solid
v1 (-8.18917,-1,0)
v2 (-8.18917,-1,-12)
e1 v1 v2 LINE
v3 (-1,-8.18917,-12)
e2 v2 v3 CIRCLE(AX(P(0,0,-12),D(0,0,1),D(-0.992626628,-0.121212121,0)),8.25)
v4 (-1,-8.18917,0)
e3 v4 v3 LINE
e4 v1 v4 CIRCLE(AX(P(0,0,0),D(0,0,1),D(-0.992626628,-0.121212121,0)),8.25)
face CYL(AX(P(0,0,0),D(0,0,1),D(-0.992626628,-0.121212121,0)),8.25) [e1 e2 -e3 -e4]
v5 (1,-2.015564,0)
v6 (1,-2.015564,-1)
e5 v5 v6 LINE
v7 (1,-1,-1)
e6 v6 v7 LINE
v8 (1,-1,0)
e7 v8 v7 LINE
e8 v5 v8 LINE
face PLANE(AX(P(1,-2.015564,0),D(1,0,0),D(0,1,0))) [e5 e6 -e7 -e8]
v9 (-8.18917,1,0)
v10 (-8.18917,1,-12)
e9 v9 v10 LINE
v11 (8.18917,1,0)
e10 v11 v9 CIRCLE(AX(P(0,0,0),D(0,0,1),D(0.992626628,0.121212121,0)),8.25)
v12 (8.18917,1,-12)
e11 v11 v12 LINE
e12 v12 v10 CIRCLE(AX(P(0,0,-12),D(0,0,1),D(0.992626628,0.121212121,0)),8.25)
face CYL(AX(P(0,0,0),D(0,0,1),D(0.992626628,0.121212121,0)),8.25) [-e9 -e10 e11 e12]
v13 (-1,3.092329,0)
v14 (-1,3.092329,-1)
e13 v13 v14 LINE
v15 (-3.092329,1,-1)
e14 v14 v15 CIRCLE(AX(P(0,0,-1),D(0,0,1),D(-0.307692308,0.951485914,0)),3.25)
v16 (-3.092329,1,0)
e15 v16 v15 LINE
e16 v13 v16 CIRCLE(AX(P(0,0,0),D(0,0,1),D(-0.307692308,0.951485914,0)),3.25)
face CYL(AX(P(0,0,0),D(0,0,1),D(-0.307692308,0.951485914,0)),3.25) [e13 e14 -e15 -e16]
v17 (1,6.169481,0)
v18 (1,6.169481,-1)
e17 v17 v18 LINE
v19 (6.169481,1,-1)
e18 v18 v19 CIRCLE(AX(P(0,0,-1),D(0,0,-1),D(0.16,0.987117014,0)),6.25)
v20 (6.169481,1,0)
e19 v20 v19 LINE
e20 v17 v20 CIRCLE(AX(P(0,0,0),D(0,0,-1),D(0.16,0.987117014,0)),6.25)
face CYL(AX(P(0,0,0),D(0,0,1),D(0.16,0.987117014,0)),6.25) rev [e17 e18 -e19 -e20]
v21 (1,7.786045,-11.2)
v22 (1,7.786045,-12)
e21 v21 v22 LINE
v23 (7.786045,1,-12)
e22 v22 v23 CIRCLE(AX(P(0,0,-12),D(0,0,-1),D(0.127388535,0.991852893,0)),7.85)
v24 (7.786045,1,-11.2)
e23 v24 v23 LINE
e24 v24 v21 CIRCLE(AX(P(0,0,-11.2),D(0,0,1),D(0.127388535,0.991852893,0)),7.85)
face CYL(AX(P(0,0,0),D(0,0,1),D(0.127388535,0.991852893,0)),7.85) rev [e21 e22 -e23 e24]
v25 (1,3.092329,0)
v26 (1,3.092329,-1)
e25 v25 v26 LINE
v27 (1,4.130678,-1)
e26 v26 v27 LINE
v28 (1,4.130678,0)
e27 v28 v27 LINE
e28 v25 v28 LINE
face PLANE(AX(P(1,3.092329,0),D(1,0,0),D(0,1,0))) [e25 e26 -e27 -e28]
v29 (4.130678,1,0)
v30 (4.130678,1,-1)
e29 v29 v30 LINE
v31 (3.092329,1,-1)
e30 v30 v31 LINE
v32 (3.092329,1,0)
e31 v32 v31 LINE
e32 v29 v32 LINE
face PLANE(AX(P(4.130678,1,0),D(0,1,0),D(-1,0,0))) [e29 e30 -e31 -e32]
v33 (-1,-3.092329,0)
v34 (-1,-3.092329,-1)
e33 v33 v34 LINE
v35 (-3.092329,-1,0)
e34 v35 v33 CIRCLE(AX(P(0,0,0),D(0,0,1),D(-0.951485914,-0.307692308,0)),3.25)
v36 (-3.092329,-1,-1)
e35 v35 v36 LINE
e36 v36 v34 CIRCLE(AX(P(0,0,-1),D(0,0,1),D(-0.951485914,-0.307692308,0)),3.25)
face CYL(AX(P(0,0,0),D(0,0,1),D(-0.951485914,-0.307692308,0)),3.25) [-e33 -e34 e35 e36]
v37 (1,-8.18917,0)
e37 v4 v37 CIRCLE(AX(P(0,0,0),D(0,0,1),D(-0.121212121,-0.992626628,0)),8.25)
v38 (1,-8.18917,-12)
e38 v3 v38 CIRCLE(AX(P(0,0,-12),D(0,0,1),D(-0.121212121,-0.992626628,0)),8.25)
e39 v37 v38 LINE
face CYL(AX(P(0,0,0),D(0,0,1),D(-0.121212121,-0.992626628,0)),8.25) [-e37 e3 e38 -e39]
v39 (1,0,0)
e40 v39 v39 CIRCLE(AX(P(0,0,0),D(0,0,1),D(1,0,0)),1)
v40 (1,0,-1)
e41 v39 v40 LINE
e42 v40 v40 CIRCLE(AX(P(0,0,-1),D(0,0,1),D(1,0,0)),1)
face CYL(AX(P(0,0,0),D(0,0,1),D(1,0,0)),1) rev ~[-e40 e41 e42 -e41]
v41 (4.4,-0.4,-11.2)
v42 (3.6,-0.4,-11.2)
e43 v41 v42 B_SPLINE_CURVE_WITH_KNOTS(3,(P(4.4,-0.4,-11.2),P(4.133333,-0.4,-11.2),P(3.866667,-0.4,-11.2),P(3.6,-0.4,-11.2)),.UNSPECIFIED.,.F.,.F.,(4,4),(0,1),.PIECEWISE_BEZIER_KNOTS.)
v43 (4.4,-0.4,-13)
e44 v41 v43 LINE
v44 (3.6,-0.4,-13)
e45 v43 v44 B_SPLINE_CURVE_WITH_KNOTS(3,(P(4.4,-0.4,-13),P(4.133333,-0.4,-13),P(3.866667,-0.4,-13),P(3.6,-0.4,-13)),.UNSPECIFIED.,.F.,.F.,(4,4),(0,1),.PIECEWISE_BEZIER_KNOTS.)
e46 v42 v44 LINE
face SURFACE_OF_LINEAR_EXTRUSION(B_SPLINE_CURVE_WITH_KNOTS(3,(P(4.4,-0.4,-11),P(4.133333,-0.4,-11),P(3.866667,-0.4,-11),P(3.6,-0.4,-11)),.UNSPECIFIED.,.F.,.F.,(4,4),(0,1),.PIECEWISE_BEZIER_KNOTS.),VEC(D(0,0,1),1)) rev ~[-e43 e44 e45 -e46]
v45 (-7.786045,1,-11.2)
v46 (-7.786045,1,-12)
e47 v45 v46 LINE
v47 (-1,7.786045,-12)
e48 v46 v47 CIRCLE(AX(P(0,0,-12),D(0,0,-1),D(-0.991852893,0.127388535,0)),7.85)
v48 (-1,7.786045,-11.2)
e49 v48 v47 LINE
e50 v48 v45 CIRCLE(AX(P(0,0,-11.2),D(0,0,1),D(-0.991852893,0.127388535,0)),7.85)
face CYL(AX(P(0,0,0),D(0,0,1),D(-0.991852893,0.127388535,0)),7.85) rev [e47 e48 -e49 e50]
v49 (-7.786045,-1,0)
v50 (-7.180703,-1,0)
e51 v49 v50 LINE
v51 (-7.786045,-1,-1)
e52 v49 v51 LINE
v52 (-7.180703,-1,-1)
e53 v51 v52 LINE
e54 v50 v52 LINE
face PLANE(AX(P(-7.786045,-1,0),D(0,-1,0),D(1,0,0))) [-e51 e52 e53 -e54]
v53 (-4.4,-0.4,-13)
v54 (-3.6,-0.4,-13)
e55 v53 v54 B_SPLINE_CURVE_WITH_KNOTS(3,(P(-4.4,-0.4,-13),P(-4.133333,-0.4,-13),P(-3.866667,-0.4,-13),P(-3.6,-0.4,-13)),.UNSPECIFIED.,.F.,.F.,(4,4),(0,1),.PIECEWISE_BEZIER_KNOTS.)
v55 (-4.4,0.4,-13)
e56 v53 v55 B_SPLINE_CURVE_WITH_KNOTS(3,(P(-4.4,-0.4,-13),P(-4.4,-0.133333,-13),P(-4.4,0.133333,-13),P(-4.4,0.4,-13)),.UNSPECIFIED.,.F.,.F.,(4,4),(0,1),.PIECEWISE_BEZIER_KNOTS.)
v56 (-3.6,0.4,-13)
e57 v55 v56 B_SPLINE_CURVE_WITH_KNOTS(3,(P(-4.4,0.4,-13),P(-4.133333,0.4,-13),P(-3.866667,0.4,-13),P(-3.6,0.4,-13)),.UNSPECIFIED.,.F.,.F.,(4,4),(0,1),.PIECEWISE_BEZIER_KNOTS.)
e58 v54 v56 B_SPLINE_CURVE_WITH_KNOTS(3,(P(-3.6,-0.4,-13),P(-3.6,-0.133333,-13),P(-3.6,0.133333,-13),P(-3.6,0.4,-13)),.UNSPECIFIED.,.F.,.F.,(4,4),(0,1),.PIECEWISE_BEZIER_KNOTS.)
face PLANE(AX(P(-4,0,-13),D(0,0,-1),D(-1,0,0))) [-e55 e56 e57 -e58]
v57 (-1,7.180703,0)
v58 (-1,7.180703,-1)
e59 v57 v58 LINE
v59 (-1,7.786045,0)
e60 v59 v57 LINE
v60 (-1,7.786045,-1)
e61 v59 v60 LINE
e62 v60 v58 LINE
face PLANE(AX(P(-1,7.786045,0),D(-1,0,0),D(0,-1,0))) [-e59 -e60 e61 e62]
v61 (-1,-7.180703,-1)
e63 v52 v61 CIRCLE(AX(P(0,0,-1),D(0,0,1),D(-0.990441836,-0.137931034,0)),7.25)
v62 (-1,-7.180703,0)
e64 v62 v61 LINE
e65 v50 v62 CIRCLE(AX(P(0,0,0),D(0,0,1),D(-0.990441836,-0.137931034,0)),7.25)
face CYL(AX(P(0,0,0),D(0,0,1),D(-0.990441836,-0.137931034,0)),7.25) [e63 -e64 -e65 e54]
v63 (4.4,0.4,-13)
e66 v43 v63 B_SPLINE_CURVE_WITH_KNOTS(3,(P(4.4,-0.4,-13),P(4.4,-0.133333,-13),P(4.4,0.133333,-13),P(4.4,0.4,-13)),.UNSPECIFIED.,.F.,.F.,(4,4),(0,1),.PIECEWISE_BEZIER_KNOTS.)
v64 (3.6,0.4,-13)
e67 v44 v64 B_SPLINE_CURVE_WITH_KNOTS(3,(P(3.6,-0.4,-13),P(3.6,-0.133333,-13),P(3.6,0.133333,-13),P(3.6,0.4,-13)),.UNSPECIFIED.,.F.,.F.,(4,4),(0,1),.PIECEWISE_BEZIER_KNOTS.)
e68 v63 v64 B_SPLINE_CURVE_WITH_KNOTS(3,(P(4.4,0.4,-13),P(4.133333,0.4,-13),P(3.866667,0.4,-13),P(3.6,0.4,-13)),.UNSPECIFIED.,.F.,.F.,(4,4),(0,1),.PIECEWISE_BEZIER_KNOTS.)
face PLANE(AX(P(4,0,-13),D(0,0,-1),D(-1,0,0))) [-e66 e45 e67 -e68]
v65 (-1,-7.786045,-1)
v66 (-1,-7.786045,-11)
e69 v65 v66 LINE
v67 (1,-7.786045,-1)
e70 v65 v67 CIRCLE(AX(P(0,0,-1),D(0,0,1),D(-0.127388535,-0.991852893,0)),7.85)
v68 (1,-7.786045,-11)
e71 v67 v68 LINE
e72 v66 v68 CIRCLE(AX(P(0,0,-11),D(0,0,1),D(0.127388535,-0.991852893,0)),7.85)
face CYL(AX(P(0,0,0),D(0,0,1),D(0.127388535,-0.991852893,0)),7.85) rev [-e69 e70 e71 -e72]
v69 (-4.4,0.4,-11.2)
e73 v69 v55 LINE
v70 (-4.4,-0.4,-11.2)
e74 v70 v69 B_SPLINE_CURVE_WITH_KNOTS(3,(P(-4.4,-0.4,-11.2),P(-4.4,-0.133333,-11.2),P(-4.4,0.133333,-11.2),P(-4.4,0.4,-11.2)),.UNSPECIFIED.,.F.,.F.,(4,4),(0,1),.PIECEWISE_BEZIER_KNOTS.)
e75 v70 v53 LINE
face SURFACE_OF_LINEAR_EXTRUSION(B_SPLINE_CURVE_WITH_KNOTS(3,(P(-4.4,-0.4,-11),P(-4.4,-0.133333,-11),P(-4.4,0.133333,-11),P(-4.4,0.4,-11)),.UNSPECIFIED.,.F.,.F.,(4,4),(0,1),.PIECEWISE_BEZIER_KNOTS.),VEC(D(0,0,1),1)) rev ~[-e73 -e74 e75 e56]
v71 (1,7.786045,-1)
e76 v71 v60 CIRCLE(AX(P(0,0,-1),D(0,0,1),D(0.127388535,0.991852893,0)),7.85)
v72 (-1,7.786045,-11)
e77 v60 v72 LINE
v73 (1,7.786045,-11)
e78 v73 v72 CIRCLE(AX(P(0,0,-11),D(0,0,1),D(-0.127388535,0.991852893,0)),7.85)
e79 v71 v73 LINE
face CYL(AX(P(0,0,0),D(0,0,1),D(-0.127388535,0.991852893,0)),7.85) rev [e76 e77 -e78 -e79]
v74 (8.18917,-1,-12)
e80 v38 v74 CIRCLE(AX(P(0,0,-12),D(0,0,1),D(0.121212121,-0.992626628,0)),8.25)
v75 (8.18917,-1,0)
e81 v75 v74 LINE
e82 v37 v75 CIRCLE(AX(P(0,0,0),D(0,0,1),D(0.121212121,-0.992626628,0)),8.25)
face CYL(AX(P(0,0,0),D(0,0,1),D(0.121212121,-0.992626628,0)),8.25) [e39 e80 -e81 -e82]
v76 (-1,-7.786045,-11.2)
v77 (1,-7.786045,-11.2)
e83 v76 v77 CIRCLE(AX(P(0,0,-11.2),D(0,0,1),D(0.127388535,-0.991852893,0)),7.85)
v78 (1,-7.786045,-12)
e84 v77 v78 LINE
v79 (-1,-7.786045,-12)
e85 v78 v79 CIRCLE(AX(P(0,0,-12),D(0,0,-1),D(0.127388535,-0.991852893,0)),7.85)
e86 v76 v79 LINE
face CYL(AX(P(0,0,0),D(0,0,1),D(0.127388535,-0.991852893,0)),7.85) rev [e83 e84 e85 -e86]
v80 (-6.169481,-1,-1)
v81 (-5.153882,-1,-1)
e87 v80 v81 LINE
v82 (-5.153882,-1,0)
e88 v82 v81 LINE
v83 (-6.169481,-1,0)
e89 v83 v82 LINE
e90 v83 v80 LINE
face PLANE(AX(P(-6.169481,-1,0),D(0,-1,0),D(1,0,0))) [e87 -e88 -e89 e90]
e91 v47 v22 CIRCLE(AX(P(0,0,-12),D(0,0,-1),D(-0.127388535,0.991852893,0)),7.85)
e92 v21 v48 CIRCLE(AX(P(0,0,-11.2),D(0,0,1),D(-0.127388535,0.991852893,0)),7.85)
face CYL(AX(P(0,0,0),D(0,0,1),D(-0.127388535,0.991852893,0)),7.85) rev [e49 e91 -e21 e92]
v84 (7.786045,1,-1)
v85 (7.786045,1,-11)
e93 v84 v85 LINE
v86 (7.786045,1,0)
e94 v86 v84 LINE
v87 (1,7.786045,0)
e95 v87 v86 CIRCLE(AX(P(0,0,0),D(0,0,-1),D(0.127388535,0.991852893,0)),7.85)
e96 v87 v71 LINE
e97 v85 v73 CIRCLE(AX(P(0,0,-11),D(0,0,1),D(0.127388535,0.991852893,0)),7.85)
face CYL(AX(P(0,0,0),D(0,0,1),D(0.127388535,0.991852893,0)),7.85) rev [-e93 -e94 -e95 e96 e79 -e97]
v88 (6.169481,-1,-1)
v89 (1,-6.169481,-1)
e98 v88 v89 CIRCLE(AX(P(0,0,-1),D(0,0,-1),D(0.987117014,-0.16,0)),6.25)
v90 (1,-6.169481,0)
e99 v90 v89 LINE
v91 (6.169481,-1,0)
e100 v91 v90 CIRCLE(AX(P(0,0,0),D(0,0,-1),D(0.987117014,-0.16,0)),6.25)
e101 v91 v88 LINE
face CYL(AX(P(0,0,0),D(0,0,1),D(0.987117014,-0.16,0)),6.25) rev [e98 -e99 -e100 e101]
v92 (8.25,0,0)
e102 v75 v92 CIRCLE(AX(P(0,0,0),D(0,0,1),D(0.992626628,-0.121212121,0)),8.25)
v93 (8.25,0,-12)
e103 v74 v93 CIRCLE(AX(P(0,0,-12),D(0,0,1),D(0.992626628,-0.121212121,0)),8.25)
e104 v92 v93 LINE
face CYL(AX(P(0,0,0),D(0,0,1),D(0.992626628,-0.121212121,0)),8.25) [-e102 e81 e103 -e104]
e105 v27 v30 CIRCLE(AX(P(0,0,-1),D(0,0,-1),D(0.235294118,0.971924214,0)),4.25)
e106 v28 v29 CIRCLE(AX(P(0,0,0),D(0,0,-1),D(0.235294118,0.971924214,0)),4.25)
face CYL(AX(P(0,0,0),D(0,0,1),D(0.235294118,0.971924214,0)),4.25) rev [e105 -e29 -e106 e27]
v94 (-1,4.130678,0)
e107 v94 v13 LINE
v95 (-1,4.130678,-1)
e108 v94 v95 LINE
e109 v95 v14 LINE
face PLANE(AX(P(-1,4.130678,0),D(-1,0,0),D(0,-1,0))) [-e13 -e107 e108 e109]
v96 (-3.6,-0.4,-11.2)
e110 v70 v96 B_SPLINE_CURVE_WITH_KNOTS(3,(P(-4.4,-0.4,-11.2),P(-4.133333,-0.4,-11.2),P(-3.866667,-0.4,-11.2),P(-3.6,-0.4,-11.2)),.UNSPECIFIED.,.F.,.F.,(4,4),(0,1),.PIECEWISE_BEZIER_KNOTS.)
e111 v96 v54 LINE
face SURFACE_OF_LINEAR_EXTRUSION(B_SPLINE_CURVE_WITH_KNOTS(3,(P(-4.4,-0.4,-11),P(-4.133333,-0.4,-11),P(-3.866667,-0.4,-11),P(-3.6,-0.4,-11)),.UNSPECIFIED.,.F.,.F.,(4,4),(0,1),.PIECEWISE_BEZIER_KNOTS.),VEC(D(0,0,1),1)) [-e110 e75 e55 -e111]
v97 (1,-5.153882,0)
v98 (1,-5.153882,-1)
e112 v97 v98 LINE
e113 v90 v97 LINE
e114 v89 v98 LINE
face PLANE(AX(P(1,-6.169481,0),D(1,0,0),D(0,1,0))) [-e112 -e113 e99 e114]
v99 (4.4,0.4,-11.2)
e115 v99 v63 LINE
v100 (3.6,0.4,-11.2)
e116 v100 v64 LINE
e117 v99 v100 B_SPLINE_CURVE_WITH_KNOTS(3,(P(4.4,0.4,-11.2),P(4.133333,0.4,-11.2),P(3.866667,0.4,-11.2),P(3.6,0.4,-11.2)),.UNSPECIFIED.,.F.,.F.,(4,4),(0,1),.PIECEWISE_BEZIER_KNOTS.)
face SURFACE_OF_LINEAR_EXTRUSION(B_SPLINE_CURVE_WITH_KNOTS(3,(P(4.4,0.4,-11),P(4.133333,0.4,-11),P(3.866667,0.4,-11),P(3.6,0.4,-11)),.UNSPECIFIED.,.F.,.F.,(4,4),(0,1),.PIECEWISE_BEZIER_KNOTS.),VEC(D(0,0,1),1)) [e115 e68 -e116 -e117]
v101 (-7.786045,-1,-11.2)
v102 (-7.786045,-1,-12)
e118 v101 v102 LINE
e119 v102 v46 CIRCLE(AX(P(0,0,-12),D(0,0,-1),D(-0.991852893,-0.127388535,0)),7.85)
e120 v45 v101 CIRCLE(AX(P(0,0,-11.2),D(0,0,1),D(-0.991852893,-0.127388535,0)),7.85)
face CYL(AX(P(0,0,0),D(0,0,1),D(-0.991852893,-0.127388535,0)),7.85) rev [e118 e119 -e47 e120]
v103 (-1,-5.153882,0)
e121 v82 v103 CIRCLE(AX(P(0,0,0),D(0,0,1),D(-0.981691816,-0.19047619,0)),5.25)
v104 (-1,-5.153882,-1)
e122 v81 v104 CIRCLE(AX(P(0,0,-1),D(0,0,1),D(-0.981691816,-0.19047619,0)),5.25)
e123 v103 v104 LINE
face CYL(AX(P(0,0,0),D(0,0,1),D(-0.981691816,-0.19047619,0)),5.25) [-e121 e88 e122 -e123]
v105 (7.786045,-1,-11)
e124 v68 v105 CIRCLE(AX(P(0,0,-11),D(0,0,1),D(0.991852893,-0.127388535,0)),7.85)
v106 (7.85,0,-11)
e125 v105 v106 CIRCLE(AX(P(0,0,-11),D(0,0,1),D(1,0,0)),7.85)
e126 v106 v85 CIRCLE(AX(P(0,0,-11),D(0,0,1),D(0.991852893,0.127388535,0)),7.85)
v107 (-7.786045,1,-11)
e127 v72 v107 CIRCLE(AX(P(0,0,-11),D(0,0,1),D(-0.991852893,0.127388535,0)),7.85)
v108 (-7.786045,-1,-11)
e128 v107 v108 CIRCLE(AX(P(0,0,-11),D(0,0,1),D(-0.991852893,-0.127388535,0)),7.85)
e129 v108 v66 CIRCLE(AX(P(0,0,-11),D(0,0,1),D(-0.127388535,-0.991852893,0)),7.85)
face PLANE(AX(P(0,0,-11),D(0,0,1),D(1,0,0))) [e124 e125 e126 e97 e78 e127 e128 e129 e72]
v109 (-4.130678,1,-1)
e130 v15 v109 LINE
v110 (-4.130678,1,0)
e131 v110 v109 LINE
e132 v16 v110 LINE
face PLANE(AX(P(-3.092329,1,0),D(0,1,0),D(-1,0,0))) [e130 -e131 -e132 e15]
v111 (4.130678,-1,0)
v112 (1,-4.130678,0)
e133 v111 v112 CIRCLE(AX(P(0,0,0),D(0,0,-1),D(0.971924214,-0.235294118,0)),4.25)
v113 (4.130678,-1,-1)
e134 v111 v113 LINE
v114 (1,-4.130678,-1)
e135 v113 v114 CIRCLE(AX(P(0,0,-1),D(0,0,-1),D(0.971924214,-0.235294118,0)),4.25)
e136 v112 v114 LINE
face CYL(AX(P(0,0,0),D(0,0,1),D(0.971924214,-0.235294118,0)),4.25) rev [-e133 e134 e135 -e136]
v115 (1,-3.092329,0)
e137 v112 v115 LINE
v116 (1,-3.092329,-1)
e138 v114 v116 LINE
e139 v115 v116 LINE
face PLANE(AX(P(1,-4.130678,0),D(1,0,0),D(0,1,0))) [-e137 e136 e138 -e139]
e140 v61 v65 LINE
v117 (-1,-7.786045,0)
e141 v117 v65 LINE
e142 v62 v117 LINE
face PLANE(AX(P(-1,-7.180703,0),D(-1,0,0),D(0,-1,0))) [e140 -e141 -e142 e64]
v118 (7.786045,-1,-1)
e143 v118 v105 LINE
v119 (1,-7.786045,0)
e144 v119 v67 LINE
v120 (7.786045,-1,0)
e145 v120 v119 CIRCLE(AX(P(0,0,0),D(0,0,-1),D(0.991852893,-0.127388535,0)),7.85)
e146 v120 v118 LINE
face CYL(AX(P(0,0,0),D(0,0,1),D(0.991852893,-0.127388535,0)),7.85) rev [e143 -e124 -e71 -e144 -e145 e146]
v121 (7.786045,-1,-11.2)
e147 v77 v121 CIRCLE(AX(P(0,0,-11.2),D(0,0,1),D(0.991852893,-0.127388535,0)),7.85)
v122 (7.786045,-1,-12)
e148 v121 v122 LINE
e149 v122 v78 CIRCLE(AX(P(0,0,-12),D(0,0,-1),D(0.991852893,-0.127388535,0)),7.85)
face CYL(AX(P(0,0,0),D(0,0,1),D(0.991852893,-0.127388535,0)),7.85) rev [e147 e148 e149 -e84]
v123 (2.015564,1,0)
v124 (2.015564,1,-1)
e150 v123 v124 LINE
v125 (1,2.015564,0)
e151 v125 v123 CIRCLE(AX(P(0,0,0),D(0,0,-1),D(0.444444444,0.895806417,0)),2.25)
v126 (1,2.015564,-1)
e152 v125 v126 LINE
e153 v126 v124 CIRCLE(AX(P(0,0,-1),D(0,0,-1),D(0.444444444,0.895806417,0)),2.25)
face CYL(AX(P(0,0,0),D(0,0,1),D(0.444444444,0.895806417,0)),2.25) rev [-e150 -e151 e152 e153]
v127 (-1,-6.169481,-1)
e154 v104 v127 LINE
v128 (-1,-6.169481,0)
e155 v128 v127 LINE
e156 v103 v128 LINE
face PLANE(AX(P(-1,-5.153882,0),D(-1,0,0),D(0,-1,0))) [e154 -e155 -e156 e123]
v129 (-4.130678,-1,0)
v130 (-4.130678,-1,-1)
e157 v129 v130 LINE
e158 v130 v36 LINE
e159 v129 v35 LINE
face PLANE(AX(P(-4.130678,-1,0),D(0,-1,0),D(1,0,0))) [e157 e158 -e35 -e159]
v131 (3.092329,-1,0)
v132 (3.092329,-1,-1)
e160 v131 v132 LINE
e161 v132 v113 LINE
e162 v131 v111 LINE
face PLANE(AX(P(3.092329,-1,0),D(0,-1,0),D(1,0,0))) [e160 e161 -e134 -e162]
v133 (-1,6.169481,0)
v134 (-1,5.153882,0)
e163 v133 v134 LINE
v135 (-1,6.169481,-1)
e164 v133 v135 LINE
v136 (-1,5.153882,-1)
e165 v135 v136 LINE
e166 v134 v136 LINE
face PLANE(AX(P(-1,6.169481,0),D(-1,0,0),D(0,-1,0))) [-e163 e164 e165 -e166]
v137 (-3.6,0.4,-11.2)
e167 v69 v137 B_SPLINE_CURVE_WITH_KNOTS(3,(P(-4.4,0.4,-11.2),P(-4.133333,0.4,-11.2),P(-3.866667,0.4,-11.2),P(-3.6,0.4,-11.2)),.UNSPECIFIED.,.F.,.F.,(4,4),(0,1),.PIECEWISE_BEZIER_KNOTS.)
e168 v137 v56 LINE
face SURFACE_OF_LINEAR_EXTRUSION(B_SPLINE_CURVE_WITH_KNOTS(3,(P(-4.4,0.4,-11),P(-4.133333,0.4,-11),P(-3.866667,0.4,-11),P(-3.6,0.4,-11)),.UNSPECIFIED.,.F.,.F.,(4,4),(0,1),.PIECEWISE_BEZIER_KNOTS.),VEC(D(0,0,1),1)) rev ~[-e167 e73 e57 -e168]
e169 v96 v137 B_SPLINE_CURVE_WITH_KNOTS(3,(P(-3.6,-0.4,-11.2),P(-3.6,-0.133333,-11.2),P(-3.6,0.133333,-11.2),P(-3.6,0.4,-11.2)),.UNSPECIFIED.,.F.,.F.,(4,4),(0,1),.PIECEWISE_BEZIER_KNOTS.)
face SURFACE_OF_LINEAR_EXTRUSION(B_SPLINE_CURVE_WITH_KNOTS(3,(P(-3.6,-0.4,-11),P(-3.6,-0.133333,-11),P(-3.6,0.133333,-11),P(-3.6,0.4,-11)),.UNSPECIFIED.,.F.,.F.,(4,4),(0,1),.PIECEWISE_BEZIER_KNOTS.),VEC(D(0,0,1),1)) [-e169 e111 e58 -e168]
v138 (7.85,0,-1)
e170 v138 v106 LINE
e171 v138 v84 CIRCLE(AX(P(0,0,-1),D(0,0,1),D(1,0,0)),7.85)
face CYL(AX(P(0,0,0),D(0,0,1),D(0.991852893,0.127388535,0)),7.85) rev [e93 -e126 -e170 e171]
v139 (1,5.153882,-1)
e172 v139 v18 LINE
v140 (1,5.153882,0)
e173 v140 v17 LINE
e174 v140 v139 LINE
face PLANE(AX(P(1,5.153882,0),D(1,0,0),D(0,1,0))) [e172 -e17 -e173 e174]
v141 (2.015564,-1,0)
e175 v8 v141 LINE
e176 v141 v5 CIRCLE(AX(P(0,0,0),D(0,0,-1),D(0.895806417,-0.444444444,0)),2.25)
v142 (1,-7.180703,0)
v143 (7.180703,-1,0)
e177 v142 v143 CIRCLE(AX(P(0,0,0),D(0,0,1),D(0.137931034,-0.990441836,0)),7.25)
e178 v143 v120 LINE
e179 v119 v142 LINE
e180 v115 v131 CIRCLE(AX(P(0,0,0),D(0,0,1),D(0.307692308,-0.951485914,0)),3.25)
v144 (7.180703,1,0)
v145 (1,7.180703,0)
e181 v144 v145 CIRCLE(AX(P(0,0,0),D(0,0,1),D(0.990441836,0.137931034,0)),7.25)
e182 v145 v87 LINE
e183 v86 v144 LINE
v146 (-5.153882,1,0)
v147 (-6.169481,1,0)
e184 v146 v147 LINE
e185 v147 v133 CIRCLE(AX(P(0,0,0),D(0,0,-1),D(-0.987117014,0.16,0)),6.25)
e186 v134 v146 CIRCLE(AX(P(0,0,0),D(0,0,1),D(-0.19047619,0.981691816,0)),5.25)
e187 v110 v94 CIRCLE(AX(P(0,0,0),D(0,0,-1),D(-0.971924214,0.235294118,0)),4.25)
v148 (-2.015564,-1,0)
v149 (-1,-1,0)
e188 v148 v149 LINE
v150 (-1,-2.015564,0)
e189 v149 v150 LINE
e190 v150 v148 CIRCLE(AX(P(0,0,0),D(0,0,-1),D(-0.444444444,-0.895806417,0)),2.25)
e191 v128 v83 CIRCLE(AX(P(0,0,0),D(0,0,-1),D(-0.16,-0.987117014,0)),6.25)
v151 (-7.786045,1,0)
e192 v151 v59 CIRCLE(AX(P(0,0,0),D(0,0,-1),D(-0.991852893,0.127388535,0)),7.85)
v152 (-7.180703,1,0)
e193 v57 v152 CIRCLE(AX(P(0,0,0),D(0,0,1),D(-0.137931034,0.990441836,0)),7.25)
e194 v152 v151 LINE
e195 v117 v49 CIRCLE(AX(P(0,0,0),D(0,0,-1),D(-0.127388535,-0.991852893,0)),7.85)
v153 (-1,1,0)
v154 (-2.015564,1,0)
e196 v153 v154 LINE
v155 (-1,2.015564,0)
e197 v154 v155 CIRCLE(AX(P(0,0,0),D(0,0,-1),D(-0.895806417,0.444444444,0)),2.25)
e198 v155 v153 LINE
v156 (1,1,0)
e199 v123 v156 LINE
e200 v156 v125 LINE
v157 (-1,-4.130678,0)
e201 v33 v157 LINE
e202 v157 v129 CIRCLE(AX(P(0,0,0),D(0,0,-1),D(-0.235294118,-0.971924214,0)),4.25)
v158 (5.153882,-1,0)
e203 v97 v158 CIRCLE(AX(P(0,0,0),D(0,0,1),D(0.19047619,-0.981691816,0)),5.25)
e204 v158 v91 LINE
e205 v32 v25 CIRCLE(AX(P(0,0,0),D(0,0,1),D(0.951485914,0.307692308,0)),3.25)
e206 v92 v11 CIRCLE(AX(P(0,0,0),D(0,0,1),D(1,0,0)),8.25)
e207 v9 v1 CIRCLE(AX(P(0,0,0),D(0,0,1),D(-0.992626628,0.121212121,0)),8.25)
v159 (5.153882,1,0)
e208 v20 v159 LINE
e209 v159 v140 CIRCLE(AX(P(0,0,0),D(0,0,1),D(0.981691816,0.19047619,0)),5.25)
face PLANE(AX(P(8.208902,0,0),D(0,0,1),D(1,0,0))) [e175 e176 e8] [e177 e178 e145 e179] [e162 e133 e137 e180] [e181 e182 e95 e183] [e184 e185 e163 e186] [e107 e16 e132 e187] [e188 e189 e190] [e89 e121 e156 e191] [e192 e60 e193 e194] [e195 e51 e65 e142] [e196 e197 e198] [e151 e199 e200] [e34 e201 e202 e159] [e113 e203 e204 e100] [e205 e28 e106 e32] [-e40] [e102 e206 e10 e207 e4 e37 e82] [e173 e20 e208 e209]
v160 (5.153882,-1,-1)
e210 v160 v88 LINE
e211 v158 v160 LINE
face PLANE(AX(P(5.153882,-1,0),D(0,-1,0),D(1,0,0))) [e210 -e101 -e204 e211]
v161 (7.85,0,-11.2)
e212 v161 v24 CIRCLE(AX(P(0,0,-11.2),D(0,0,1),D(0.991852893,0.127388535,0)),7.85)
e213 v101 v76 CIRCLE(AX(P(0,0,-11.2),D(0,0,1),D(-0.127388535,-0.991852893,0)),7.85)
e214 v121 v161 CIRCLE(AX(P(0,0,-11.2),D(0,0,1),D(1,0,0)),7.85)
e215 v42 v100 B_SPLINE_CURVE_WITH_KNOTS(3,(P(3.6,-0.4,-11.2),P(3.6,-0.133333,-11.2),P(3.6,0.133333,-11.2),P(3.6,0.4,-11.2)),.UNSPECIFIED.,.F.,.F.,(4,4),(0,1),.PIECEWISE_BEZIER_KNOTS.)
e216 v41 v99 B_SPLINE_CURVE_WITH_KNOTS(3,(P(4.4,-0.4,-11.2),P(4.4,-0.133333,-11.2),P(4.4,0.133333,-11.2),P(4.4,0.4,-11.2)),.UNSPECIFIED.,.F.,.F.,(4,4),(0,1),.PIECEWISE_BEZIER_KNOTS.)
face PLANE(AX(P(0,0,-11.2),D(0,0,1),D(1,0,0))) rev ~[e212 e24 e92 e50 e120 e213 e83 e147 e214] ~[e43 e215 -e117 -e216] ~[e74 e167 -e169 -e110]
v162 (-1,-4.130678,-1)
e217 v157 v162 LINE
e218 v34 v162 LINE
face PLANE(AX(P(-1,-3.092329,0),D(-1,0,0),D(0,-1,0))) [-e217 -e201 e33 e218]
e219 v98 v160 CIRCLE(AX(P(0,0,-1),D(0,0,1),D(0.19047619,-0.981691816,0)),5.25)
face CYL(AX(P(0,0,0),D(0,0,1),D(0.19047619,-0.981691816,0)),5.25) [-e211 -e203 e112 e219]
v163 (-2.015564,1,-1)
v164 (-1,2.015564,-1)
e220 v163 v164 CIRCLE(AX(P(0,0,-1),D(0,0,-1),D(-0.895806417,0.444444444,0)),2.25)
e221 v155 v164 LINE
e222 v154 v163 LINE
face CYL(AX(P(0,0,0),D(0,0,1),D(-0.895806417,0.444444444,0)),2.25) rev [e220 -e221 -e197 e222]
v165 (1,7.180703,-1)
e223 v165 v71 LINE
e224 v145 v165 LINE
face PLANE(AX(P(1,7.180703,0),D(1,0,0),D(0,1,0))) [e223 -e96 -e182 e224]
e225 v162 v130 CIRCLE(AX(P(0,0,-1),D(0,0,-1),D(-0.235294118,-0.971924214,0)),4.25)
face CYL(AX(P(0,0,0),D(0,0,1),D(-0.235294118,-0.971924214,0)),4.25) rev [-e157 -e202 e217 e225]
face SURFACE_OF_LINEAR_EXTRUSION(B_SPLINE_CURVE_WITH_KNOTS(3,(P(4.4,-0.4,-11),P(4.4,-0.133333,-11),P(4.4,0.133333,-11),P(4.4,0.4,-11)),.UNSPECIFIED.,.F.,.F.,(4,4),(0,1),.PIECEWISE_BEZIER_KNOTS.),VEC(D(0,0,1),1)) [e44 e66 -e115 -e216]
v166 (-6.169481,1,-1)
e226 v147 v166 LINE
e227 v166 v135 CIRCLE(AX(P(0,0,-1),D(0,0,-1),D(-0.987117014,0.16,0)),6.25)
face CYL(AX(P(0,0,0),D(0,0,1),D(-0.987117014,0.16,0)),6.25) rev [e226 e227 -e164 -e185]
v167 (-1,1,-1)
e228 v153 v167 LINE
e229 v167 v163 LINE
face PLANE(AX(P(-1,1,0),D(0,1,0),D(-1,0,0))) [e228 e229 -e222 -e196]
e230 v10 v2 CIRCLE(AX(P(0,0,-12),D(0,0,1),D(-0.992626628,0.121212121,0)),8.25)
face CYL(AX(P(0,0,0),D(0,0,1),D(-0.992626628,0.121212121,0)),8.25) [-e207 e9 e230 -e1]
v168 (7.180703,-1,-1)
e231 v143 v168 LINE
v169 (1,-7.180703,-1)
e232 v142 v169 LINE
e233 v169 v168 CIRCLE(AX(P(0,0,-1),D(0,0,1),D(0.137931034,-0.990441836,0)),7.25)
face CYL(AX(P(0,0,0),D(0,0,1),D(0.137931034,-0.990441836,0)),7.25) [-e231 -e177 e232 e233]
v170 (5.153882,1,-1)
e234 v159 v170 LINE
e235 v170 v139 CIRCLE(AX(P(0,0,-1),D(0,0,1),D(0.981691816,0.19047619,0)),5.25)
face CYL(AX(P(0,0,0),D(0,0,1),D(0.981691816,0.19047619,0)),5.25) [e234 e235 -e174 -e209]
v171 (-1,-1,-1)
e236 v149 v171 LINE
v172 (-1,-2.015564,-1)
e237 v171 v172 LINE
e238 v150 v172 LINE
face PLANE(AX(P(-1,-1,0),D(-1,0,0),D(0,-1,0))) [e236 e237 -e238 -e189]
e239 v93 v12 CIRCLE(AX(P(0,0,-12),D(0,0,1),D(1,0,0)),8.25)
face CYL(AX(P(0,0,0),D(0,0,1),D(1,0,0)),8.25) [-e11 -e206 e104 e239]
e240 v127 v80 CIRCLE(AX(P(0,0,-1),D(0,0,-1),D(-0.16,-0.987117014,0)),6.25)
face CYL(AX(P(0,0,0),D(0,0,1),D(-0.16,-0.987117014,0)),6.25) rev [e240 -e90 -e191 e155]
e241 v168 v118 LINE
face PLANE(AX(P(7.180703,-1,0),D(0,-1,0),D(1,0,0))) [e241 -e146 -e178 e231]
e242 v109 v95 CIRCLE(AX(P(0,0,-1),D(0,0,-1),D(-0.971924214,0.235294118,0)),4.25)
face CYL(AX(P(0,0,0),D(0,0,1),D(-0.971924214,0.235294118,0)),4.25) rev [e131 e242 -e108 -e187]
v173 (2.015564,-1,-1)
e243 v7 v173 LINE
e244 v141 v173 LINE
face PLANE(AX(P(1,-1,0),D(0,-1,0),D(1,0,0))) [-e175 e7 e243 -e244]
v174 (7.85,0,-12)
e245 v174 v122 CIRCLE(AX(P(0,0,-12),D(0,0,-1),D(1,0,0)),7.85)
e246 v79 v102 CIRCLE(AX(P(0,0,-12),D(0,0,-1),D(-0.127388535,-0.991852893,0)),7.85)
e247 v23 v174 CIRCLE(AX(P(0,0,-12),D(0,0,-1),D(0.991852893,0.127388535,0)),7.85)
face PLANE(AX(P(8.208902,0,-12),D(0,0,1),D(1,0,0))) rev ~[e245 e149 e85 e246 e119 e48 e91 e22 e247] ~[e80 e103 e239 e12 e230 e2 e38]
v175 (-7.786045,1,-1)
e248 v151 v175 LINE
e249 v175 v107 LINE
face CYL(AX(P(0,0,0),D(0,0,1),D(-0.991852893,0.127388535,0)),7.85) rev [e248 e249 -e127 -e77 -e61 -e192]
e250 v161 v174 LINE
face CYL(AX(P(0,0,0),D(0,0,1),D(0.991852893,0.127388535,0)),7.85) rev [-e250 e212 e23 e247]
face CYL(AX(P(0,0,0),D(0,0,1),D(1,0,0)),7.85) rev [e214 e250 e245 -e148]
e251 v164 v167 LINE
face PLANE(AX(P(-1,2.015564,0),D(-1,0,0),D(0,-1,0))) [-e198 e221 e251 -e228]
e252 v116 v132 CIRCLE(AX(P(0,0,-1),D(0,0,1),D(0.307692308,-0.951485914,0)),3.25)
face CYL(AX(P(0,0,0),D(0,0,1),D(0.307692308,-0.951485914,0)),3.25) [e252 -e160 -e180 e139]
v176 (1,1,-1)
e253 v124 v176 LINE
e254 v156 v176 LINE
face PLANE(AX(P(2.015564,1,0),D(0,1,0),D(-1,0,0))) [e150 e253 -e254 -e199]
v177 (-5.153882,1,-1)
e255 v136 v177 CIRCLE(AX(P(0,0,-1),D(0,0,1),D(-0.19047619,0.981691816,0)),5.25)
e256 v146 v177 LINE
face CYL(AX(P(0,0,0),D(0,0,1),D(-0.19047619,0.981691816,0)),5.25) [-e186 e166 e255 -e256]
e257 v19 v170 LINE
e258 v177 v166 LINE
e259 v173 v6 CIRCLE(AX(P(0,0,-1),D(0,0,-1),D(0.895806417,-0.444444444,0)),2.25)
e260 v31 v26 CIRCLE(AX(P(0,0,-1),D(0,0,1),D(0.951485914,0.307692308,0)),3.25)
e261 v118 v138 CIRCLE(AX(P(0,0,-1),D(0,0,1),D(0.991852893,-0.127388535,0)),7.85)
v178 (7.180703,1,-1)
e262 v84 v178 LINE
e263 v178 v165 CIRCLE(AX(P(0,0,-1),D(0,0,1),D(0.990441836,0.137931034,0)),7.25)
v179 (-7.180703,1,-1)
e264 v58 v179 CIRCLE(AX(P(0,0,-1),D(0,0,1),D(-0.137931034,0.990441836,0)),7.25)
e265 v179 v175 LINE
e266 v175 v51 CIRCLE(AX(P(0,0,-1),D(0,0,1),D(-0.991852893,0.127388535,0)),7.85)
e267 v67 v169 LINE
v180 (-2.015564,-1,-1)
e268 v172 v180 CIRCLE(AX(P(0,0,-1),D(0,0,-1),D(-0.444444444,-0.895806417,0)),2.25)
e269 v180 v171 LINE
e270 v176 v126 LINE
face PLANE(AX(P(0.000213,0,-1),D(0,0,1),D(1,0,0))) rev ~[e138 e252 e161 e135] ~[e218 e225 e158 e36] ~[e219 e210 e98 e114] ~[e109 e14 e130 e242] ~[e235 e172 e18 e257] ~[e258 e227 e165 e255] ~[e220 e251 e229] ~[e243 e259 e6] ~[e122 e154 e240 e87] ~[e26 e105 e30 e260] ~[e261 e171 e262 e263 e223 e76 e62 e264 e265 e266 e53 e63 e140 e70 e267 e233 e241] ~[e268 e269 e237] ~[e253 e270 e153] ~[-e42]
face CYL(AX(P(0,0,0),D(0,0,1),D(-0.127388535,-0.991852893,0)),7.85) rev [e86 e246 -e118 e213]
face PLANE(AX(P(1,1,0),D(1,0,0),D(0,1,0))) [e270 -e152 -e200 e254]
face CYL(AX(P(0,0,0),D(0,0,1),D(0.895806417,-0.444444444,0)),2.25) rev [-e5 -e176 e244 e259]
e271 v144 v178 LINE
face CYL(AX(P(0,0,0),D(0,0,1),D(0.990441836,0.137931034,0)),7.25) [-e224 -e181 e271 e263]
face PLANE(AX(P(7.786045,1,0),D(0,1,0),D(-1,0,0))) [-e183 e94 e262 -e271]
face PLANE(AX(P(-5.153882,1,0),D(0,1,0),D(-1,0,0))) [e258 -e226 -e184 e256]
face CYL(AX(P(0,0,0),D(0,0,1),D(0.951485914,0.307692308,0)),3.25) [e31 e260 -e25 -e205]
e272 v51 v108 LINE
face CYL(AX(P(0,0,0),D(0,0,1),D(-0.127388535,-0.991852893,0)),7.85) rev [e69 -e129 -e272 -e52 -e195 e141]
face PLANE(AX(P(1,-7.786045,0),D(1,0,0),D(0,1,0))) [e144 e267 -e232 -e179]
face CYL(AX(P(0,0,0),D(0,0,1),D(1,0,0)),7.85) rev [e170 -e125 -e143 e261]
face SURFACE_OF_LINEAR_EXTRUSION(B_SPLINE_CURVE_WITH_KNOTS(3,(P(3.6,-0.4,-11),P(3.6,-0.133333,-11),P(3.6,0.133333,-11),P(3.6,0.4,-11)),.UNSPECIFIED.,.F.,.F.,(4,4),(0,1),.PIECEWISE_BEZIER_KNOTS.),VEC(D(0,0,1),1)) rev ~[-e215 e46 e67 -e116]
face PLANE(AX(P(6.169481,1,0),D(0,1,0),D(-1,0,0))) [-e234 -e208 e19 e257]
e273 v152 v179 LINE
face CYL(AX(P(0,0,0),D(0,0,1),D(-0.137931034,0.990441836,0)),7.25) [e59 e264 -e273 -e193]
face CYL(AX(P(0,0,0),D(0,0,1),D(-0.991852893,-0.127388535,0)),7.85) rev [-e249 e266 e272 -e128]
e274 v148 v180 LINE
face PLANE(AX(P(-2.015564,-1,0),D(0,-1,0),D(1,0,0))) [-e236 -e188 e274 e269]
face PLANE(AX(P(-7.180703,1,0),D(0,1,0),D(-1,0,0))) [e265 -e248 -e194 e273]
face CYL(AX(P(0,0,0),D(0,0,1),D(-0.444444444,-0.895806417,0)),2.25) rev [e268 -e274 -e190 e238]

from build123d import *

# Parameters (mm, degrees)
F0_R     = 1
F3_DEPTH = 1
F4_DEPTH = 12
F2_R     = 7.92
F2_R_2   = 7.12
F5_DEPTH = 0.2
F6_DEPTH = 2


with BuildPart() as f3:
    # F0 (on Top) → F3 (new body)
    with BuildSketch(Plane.XY):
        with BuildLine():
            Line((-1, 7.7860452092), (-1, 7.1807033082))
            ThreePointArc((-1, 7.1807033082), (-5.1265241636, 5.1265241636), (-7.1807033082, 1))
            Line((-7.1807033082, 1), (-7.7860452092, 1))
            ThreePointArc((-7.7860452092, 1), (-7.85, 0), (-7.7860452092, -1))
            Line((-7.7860452092, -1), (-7.1807033082, -1))
            ThreePointArc((-7.1807033082, -1), (-5.1265241636, -5.1265241636), (-1, -7.1807033082))
            Line((-1, -7.1807033082), (-1, -7.7860452092))
            ThreePointArc((-1, -7.7860452092), (0, -7.85), (1, -7.7860452092))
            Line((1, -7.7860452092), (1, -7.1807033082))
            ThreePointArc((1, -7.1807033082), (5.1265241636, -5.1265241636), (7.1807033082, -1))
            Line((7.1807033082, -1), (7.7860452092, -1))
            ThreePointArc((7.7860452092, -1), (7.8339949864, -0.5010215103), (7.85, 0))
            ThreePointArc((7.85, 0), (7.8339949864, 0.5010215103), (7.7860452092, 1))
            Line((7.7860452092, 1), (7.1807033082, 1))
            ThreePointArc((7.1807033082, 1), (5.1265241636, 5.1265241636), (1, 7.1807033082))
            Line((1, 7.1807033082), (1, 7.7860452092))
            ThreePointArc((1, 7.7860452092), (0, 7.85), (-1, 7.7860452092))
        make_face()
        with BuildLine():
            Line((-6.1694813396, -1), (-5.153882032, -1))
            ThreePointArc((-5.153882032, -1), (-3.7123106012, -3.7123106012), (-1, -5.153882032))
            Line((-1, -5.153882032), (-1, -6.1694813396))
            ThreePointArc((-1, -6.1694813396), (-4.4194173824, -4.4194173824), (-6.1694813396, -1))
        make_face(mode=Mode.SUBTRACT)
        with BuildLine():
            ThreePointArc((-1, -4.1306779105), (-3.00520382, -3.00520382), (-4.1306779105, -1))
            Line((-4.1306779105, -1), (-3.0923292192, -1))
            ThreePointArc((-3.0923292192, -1), (-2.2980970389, -2.2980970389), (-1, -3.0923292192))
            Line((-1, -3.0923292192), (-1, -4.1306779105))
        make_face(mode=Mode.SUBTRACT)
        with BuildLine():
            ThreePointArc((-1, -2.0155644371), (-1.5909902577, -1.5909902577), (-2.0155644371, -1))
            Line((-2.0155644371, -1), (-1, -1))
            Line((-1, -1), (-1, -2.0155644371))
        make_face(mode=Mode.SUBTRACT)
        with BuildLine():
            ThreePointArc((6.1694813396, -1), (4.4194173824, -4.4194173824), (1, -6.1694813396))
            Line((1, -6.1694813396), (1, -5.153882032))
            ThreePointArc((1, -5.153882032), (3.7123106012, -3.7123106012), (5.153882032, -1))
            Line((5.153882032, -1), (6.1694813396, -1))
        make_face(mode=Mode.SUBTRACT)
        with BuildLine():
            Line((3.0923292192, -1), (4.1306779105, -1))
            ThreePointArc((4.1306779105, -1), (3.00520382, -3.00520382), (1, -4.1306779105))
            Line((1, -4.1306779105), (1, -3.0923292192))
            ThreePointArc((1, -3.0923292192), (2.2980970389, -2.2980970389), (3.0923292192, -1))
        make_face(mode=Mode.SUBTRACT)
        with BuildLine():
            Line((1, -1), (2.0155644371, -1))
            ThreePointArc((2.0155644371, -1), (1.5909902577, -1.5909902577), (1, -2.0155644371))
            Line((1, -2.0155644371), (1, -1))
        make_face(mode=Mode.SUBTRACT)
        with BuildLine():
            ThreePointArc((-2.0155644371, 1), (-1.5909902577, 1.5909902577), (-1, 2.0155644371))
            Line((-1, 2.0155644371), (-1, 1))
            Line((-1, 1), (-2.0155644371, 1))
        make_face(mode=Mode.SUBTRACT)
        with BuildLine():
            ThreePointArc((-1, 3.0923292192), (-2.2980970389, 2.2980970389), (-3.0923292192, 1))
            Line((-3.0923292192, 1), (-4.1306779105, 1))
            ThreePointArc((-4.1306779105, 1), (-3.00520382, 3.00520382), (-1, 4.1306779105))
            Line((-1, 4.1306779105), (-1, 3.0923292192))
        make_face(mode=Mode.SUBTRACT)
        with BuildLine():
            ThreePointArc((-6.1694813396, 1), (-4.4194173824, 4.4194173824), (-1, 6.1694813396))
            Line((-1, 6.1694813396), (-1, 5.153882032))
            ThreePointArc((-1, 5.153882032), (-3.7123106012, 3.7123106012), (-5.153882032, 1))
            Line((-5.153882032, 1), (-6.1694813396, 1))
        make_face(mode=Mode.SUBTRACT)
        Circle(F0_R, mode=Mode.SUBTRACT)
        with BuildLine():
            ThreePointArc((1, 2.0155644371), (1.5909902577, 1.5909902577), (2.0155644371, 1))
            Line((2.0155644371, 1), (1, 1))
            Line((1, 1), (1, 2.0155644371))
        make_face(mode=Mode.SUBTRACT)
        with BuildLine():
            Line((4.1306779105, 1), (3.0923292192, 1))
            ThreePointArc((3.0923292192, 1), (2.2980970389, 2.2980970389), (1, 3.0923292192))
            Line((1, 3.0923292192), (1, 4.1306779105))
            ThreePointArc((1, 4.1306779105), (3.00520382, 3.00520382), (4.1306779105, 1))
        make_face(mode=Mode.SUBTRACT)
        with BuildLine():
            Line((1, 5.153882032), (1, 6.1694813396))
            ThreePointArc((1, 6.1694813396), (4.4194173824, 4.4194173824), (6.1694813396, 1))
            Line((6.1694813396, 1), (5.153882032, 1))
            ThreePointArc((5.153882032, 1), (3.7123106012, 3.7123106012), (1, 5.153882032))
        make_face(mode=Mode.SUBTRACT)
    extrude(amount=-F3_DEPTH)

    # F0 (on Top) → F4 (join)
    with BuildSketch(Plane.XY):
        with BuildLine():
            ThreePointArc((8.1891696771, -1), (8.234778377, -0.5009242278), (8.25, 0))
            ThreePointArc((8.25, 0), (8.234778377, 0.5009242278), (8.1891696771, 1))
            Line((8.1891696771, 1), (8.1891696771, -1))
        make_face()
        with BuildLine():
            Line((8.1891696771, -1), (8.1891696771, 1))
            ThreePointArc((8.1891696771, 1), (0, 8.25), (-8.1891696771, 1))
            Line((-8.1891696771, 1), (-8.1891696771, -1))
            ThreePointArc((-8.1891696771, -1), (-5.8336309448, -5.8336309448), (-1, -8.1891696771))
            Line((-1, -8.1891696771), (1, -8.1891696771))
            ThreePointArc((1, -8.1891696771), (5.8336309448, -5.8336309448), (8.1891696771, -1))
        make_face()
        with BuildLine():
            ThreePointArc((-7.7860452092, 1), (-5.5507882323, 5.5507882323), (-1, 7.7860452092))
            ThreePointArc((-1, 7.7860452092), (0, 7.85), (1, 7.7860452092))
            ThreePointArc((1, 7.7860452092), (5.5507882323, 5.5507882323), (7.7860452092, 1))
            ThreePointArc((7.7860452092, 1), (7.8339949864, 0.5010215103), (7.85, 0))
            ThreePointArc((7.85, 0), (7.8339949864, -0.5010215103), (7.7860452092, -1))
            ThreePointArc((7.7860452092, -1), (5.5507882323, -5.5507882323), (1, -7.7860452092))
            ThreePointArc((1, -7.7860452092), (0, -7.85), (-1, -7.7860452092))
            ThreePointArc((-1, -7.7860452092), (-5.5507882323, -5.5507882323), (-7.7860452092, -1))
            ThreePointArc((-7.7860452092, -1), (-7.85, 0), (-7.7860452092, 1))
        make_face(mode=Mode.SUBTRACT)
        with BuildLine():
            Line((-8.1891696771, -1), (-8.1891696771, 1))
            ThreePointArc((-8.1891696771, 1), (-8.25, 0), (-8.1891696771, -1))
        make_face()
        with BuildLine():
            ThreePointArc((-1, -8.1891696771), (0, -8.25), (1, -8.1891696771))
            Line((1, -8.1891696771), (-1, -8.1891696771))
        make_face()
    extrude(amount=-F4_DEPTH)

    # F2 (on offset) → F5 (join)
    with BuildSketch(Plane.XY.offset(-11)):
        Circle(F2_R)
        Circle(F2_R_2, mode=Mode.SUBTRACT)
        Circle(F2_R_2)
        with BuildLine():
            add(Edge.make_bspline(
                [(-4.4, -0.4), (-4.1333333333, -0.4), (-3.8666666667, -0.4), (-3.6, -0.4)],
                knots=[0, 0, 0, 0, 1, 1, 1, 1], degree=3))
            add(Edge.make_bspline(
                [(-4.4, -0.4), (-4.4, -0.1333333333), (-4.4, 0.1333333333), (-4.4, 0.4)],
                knots=[0, 0, 0, 0, 1, 1, 1, 1], degree=3))
            add(Edge.make_bspline(
                [(-4.4, 0.4), (-4.1333333333, 0.4), (-3.8666666667, 0.4), (-3.6, 0.4)],
                knots=[0, 0, 0, 0, 1, 1, 1, 1], degree=3))
            add(Edge.make_bspline(
                [(-3.6, -0.4), (-3.6, -0.1333333333), (-3.6, 0.1333333333), (-3.6, 0.4)],
                knots=[0, 0, 0, 0, 1, 1, 1, 1], degree=3))
        make_face(mode=Mode.SUBTRACT)
        with BuildLine():
            add(Edge.make_bspline(
                [(4.4, -0.4), (4.1333333333, -0.4), (3.8666666667, -0.4), (3.6, -0.4)],
                knots=[0, 0, 0, 0, 1, 1, 1, 1], degree=3))
            add(Edge.make_bspline(
                [(3.6, -0.4), (3.6, -0.1333333333), (3.6, 0.1333333333), (3.6, 0.4)],
                knots=[0, 0, 0, 0, 1, 1, 1, 1], degree=3))
            add(Edge.make_bspline(
                [(4.4, 0.4), (4.1333333333, 0.4), (3.8666666667, 0.4), (3.6, 0.4)],
                knots=[0, 0, 0, 0, 1, 1, 1, 1], degree=3))
            add(Edge.make_bspline(
                [(4.4, -0.4), (4.4, -0.1333333333), (4.4, 0.1333333333), (4.4, 0.4)],
                knots=[0, 0, 0, 0, 1, 1, 1, 1], degree=3))
        make_face(mode=Mode.SUBTRACT)
    extrude(amount=-F5_DEPTH)

    # F2 (on offset) → F6 (join)
    with BuildSketch(Plane.XY.offset(-11)):
        with BuildLine():
            add(Edge.make_bspline(
                [(-4.4, -0.4), (-4.4, -0.1333333333), (-4.4, 0.1333333333), (-4.4, 0.4)],
                knots=[0, 0, 0, 0, 1, 1, 1, 1], degree=3))
            add(Edge.make_bspline(
                [(-4.4, -0.4), (-4.1333333333, -0.4), (-3.8666666667, -0.4), (-3.6, -0.4)],
                knots=[0, 0, 0, 0, 1, 1, 1, 1], degree=3))
            add(Edge.make_bspline(
                [(-3.6, -0.4), (-3.6, -0.1333333333), (-3.6, 0.1333333333), (-3.6, 0.4)],
                knots=[0, 0, 0, 0, 1, 1, 1, 1], degree=3))
            add(Edge.make_bspline(
                [(-4.4, 0.4), (-4.1333333333, 0.4), (-3.8666666667, 0.4), (-3.6, 0.4)],
                knots=[0, 0, 0, 0, 1, 1, 1, 1], degree=3))
        make_face()
        with BuildLine():
            add(Edge.make_bspline(
                [(3.6, -0.4), (3.6, -0.1333333333), (3.6, 0.1333333333), (3.6, 0.4)],
                knots=[0, 0, 0, 0, 1, 1, 1, 1], degree=3))
            add(Edge.make_bspline(
                [(4.4, -0.4), (4.1333333333, -0.4), (3.8666666667, -0.4), (3.6, -0.4)],
                knots=[0, 0, 0, 0, 1, 1, 1, 1], degree=3))
            add(Edge.make_bspline(
                [(4.4, -0.4), (4.4, -0.1333333333), (4.4, 0.1333333333), (4.4, 0.4)],
                knots=[0, 0, 0, 0, 1, 1, 1, 1], degree=3))
            add(Edge.make_bspline(
                [(4.4, 0.4), (4.1333333333, 0.4), (3.8666666667, 0.4), (3.6, 0.4)],
                knots=[0, 0, 0, 0, 1, 1, 1, 1], degree=3))
        make_face()
    extrude(amount=-F6_DEPTH)


solid = f3.part
